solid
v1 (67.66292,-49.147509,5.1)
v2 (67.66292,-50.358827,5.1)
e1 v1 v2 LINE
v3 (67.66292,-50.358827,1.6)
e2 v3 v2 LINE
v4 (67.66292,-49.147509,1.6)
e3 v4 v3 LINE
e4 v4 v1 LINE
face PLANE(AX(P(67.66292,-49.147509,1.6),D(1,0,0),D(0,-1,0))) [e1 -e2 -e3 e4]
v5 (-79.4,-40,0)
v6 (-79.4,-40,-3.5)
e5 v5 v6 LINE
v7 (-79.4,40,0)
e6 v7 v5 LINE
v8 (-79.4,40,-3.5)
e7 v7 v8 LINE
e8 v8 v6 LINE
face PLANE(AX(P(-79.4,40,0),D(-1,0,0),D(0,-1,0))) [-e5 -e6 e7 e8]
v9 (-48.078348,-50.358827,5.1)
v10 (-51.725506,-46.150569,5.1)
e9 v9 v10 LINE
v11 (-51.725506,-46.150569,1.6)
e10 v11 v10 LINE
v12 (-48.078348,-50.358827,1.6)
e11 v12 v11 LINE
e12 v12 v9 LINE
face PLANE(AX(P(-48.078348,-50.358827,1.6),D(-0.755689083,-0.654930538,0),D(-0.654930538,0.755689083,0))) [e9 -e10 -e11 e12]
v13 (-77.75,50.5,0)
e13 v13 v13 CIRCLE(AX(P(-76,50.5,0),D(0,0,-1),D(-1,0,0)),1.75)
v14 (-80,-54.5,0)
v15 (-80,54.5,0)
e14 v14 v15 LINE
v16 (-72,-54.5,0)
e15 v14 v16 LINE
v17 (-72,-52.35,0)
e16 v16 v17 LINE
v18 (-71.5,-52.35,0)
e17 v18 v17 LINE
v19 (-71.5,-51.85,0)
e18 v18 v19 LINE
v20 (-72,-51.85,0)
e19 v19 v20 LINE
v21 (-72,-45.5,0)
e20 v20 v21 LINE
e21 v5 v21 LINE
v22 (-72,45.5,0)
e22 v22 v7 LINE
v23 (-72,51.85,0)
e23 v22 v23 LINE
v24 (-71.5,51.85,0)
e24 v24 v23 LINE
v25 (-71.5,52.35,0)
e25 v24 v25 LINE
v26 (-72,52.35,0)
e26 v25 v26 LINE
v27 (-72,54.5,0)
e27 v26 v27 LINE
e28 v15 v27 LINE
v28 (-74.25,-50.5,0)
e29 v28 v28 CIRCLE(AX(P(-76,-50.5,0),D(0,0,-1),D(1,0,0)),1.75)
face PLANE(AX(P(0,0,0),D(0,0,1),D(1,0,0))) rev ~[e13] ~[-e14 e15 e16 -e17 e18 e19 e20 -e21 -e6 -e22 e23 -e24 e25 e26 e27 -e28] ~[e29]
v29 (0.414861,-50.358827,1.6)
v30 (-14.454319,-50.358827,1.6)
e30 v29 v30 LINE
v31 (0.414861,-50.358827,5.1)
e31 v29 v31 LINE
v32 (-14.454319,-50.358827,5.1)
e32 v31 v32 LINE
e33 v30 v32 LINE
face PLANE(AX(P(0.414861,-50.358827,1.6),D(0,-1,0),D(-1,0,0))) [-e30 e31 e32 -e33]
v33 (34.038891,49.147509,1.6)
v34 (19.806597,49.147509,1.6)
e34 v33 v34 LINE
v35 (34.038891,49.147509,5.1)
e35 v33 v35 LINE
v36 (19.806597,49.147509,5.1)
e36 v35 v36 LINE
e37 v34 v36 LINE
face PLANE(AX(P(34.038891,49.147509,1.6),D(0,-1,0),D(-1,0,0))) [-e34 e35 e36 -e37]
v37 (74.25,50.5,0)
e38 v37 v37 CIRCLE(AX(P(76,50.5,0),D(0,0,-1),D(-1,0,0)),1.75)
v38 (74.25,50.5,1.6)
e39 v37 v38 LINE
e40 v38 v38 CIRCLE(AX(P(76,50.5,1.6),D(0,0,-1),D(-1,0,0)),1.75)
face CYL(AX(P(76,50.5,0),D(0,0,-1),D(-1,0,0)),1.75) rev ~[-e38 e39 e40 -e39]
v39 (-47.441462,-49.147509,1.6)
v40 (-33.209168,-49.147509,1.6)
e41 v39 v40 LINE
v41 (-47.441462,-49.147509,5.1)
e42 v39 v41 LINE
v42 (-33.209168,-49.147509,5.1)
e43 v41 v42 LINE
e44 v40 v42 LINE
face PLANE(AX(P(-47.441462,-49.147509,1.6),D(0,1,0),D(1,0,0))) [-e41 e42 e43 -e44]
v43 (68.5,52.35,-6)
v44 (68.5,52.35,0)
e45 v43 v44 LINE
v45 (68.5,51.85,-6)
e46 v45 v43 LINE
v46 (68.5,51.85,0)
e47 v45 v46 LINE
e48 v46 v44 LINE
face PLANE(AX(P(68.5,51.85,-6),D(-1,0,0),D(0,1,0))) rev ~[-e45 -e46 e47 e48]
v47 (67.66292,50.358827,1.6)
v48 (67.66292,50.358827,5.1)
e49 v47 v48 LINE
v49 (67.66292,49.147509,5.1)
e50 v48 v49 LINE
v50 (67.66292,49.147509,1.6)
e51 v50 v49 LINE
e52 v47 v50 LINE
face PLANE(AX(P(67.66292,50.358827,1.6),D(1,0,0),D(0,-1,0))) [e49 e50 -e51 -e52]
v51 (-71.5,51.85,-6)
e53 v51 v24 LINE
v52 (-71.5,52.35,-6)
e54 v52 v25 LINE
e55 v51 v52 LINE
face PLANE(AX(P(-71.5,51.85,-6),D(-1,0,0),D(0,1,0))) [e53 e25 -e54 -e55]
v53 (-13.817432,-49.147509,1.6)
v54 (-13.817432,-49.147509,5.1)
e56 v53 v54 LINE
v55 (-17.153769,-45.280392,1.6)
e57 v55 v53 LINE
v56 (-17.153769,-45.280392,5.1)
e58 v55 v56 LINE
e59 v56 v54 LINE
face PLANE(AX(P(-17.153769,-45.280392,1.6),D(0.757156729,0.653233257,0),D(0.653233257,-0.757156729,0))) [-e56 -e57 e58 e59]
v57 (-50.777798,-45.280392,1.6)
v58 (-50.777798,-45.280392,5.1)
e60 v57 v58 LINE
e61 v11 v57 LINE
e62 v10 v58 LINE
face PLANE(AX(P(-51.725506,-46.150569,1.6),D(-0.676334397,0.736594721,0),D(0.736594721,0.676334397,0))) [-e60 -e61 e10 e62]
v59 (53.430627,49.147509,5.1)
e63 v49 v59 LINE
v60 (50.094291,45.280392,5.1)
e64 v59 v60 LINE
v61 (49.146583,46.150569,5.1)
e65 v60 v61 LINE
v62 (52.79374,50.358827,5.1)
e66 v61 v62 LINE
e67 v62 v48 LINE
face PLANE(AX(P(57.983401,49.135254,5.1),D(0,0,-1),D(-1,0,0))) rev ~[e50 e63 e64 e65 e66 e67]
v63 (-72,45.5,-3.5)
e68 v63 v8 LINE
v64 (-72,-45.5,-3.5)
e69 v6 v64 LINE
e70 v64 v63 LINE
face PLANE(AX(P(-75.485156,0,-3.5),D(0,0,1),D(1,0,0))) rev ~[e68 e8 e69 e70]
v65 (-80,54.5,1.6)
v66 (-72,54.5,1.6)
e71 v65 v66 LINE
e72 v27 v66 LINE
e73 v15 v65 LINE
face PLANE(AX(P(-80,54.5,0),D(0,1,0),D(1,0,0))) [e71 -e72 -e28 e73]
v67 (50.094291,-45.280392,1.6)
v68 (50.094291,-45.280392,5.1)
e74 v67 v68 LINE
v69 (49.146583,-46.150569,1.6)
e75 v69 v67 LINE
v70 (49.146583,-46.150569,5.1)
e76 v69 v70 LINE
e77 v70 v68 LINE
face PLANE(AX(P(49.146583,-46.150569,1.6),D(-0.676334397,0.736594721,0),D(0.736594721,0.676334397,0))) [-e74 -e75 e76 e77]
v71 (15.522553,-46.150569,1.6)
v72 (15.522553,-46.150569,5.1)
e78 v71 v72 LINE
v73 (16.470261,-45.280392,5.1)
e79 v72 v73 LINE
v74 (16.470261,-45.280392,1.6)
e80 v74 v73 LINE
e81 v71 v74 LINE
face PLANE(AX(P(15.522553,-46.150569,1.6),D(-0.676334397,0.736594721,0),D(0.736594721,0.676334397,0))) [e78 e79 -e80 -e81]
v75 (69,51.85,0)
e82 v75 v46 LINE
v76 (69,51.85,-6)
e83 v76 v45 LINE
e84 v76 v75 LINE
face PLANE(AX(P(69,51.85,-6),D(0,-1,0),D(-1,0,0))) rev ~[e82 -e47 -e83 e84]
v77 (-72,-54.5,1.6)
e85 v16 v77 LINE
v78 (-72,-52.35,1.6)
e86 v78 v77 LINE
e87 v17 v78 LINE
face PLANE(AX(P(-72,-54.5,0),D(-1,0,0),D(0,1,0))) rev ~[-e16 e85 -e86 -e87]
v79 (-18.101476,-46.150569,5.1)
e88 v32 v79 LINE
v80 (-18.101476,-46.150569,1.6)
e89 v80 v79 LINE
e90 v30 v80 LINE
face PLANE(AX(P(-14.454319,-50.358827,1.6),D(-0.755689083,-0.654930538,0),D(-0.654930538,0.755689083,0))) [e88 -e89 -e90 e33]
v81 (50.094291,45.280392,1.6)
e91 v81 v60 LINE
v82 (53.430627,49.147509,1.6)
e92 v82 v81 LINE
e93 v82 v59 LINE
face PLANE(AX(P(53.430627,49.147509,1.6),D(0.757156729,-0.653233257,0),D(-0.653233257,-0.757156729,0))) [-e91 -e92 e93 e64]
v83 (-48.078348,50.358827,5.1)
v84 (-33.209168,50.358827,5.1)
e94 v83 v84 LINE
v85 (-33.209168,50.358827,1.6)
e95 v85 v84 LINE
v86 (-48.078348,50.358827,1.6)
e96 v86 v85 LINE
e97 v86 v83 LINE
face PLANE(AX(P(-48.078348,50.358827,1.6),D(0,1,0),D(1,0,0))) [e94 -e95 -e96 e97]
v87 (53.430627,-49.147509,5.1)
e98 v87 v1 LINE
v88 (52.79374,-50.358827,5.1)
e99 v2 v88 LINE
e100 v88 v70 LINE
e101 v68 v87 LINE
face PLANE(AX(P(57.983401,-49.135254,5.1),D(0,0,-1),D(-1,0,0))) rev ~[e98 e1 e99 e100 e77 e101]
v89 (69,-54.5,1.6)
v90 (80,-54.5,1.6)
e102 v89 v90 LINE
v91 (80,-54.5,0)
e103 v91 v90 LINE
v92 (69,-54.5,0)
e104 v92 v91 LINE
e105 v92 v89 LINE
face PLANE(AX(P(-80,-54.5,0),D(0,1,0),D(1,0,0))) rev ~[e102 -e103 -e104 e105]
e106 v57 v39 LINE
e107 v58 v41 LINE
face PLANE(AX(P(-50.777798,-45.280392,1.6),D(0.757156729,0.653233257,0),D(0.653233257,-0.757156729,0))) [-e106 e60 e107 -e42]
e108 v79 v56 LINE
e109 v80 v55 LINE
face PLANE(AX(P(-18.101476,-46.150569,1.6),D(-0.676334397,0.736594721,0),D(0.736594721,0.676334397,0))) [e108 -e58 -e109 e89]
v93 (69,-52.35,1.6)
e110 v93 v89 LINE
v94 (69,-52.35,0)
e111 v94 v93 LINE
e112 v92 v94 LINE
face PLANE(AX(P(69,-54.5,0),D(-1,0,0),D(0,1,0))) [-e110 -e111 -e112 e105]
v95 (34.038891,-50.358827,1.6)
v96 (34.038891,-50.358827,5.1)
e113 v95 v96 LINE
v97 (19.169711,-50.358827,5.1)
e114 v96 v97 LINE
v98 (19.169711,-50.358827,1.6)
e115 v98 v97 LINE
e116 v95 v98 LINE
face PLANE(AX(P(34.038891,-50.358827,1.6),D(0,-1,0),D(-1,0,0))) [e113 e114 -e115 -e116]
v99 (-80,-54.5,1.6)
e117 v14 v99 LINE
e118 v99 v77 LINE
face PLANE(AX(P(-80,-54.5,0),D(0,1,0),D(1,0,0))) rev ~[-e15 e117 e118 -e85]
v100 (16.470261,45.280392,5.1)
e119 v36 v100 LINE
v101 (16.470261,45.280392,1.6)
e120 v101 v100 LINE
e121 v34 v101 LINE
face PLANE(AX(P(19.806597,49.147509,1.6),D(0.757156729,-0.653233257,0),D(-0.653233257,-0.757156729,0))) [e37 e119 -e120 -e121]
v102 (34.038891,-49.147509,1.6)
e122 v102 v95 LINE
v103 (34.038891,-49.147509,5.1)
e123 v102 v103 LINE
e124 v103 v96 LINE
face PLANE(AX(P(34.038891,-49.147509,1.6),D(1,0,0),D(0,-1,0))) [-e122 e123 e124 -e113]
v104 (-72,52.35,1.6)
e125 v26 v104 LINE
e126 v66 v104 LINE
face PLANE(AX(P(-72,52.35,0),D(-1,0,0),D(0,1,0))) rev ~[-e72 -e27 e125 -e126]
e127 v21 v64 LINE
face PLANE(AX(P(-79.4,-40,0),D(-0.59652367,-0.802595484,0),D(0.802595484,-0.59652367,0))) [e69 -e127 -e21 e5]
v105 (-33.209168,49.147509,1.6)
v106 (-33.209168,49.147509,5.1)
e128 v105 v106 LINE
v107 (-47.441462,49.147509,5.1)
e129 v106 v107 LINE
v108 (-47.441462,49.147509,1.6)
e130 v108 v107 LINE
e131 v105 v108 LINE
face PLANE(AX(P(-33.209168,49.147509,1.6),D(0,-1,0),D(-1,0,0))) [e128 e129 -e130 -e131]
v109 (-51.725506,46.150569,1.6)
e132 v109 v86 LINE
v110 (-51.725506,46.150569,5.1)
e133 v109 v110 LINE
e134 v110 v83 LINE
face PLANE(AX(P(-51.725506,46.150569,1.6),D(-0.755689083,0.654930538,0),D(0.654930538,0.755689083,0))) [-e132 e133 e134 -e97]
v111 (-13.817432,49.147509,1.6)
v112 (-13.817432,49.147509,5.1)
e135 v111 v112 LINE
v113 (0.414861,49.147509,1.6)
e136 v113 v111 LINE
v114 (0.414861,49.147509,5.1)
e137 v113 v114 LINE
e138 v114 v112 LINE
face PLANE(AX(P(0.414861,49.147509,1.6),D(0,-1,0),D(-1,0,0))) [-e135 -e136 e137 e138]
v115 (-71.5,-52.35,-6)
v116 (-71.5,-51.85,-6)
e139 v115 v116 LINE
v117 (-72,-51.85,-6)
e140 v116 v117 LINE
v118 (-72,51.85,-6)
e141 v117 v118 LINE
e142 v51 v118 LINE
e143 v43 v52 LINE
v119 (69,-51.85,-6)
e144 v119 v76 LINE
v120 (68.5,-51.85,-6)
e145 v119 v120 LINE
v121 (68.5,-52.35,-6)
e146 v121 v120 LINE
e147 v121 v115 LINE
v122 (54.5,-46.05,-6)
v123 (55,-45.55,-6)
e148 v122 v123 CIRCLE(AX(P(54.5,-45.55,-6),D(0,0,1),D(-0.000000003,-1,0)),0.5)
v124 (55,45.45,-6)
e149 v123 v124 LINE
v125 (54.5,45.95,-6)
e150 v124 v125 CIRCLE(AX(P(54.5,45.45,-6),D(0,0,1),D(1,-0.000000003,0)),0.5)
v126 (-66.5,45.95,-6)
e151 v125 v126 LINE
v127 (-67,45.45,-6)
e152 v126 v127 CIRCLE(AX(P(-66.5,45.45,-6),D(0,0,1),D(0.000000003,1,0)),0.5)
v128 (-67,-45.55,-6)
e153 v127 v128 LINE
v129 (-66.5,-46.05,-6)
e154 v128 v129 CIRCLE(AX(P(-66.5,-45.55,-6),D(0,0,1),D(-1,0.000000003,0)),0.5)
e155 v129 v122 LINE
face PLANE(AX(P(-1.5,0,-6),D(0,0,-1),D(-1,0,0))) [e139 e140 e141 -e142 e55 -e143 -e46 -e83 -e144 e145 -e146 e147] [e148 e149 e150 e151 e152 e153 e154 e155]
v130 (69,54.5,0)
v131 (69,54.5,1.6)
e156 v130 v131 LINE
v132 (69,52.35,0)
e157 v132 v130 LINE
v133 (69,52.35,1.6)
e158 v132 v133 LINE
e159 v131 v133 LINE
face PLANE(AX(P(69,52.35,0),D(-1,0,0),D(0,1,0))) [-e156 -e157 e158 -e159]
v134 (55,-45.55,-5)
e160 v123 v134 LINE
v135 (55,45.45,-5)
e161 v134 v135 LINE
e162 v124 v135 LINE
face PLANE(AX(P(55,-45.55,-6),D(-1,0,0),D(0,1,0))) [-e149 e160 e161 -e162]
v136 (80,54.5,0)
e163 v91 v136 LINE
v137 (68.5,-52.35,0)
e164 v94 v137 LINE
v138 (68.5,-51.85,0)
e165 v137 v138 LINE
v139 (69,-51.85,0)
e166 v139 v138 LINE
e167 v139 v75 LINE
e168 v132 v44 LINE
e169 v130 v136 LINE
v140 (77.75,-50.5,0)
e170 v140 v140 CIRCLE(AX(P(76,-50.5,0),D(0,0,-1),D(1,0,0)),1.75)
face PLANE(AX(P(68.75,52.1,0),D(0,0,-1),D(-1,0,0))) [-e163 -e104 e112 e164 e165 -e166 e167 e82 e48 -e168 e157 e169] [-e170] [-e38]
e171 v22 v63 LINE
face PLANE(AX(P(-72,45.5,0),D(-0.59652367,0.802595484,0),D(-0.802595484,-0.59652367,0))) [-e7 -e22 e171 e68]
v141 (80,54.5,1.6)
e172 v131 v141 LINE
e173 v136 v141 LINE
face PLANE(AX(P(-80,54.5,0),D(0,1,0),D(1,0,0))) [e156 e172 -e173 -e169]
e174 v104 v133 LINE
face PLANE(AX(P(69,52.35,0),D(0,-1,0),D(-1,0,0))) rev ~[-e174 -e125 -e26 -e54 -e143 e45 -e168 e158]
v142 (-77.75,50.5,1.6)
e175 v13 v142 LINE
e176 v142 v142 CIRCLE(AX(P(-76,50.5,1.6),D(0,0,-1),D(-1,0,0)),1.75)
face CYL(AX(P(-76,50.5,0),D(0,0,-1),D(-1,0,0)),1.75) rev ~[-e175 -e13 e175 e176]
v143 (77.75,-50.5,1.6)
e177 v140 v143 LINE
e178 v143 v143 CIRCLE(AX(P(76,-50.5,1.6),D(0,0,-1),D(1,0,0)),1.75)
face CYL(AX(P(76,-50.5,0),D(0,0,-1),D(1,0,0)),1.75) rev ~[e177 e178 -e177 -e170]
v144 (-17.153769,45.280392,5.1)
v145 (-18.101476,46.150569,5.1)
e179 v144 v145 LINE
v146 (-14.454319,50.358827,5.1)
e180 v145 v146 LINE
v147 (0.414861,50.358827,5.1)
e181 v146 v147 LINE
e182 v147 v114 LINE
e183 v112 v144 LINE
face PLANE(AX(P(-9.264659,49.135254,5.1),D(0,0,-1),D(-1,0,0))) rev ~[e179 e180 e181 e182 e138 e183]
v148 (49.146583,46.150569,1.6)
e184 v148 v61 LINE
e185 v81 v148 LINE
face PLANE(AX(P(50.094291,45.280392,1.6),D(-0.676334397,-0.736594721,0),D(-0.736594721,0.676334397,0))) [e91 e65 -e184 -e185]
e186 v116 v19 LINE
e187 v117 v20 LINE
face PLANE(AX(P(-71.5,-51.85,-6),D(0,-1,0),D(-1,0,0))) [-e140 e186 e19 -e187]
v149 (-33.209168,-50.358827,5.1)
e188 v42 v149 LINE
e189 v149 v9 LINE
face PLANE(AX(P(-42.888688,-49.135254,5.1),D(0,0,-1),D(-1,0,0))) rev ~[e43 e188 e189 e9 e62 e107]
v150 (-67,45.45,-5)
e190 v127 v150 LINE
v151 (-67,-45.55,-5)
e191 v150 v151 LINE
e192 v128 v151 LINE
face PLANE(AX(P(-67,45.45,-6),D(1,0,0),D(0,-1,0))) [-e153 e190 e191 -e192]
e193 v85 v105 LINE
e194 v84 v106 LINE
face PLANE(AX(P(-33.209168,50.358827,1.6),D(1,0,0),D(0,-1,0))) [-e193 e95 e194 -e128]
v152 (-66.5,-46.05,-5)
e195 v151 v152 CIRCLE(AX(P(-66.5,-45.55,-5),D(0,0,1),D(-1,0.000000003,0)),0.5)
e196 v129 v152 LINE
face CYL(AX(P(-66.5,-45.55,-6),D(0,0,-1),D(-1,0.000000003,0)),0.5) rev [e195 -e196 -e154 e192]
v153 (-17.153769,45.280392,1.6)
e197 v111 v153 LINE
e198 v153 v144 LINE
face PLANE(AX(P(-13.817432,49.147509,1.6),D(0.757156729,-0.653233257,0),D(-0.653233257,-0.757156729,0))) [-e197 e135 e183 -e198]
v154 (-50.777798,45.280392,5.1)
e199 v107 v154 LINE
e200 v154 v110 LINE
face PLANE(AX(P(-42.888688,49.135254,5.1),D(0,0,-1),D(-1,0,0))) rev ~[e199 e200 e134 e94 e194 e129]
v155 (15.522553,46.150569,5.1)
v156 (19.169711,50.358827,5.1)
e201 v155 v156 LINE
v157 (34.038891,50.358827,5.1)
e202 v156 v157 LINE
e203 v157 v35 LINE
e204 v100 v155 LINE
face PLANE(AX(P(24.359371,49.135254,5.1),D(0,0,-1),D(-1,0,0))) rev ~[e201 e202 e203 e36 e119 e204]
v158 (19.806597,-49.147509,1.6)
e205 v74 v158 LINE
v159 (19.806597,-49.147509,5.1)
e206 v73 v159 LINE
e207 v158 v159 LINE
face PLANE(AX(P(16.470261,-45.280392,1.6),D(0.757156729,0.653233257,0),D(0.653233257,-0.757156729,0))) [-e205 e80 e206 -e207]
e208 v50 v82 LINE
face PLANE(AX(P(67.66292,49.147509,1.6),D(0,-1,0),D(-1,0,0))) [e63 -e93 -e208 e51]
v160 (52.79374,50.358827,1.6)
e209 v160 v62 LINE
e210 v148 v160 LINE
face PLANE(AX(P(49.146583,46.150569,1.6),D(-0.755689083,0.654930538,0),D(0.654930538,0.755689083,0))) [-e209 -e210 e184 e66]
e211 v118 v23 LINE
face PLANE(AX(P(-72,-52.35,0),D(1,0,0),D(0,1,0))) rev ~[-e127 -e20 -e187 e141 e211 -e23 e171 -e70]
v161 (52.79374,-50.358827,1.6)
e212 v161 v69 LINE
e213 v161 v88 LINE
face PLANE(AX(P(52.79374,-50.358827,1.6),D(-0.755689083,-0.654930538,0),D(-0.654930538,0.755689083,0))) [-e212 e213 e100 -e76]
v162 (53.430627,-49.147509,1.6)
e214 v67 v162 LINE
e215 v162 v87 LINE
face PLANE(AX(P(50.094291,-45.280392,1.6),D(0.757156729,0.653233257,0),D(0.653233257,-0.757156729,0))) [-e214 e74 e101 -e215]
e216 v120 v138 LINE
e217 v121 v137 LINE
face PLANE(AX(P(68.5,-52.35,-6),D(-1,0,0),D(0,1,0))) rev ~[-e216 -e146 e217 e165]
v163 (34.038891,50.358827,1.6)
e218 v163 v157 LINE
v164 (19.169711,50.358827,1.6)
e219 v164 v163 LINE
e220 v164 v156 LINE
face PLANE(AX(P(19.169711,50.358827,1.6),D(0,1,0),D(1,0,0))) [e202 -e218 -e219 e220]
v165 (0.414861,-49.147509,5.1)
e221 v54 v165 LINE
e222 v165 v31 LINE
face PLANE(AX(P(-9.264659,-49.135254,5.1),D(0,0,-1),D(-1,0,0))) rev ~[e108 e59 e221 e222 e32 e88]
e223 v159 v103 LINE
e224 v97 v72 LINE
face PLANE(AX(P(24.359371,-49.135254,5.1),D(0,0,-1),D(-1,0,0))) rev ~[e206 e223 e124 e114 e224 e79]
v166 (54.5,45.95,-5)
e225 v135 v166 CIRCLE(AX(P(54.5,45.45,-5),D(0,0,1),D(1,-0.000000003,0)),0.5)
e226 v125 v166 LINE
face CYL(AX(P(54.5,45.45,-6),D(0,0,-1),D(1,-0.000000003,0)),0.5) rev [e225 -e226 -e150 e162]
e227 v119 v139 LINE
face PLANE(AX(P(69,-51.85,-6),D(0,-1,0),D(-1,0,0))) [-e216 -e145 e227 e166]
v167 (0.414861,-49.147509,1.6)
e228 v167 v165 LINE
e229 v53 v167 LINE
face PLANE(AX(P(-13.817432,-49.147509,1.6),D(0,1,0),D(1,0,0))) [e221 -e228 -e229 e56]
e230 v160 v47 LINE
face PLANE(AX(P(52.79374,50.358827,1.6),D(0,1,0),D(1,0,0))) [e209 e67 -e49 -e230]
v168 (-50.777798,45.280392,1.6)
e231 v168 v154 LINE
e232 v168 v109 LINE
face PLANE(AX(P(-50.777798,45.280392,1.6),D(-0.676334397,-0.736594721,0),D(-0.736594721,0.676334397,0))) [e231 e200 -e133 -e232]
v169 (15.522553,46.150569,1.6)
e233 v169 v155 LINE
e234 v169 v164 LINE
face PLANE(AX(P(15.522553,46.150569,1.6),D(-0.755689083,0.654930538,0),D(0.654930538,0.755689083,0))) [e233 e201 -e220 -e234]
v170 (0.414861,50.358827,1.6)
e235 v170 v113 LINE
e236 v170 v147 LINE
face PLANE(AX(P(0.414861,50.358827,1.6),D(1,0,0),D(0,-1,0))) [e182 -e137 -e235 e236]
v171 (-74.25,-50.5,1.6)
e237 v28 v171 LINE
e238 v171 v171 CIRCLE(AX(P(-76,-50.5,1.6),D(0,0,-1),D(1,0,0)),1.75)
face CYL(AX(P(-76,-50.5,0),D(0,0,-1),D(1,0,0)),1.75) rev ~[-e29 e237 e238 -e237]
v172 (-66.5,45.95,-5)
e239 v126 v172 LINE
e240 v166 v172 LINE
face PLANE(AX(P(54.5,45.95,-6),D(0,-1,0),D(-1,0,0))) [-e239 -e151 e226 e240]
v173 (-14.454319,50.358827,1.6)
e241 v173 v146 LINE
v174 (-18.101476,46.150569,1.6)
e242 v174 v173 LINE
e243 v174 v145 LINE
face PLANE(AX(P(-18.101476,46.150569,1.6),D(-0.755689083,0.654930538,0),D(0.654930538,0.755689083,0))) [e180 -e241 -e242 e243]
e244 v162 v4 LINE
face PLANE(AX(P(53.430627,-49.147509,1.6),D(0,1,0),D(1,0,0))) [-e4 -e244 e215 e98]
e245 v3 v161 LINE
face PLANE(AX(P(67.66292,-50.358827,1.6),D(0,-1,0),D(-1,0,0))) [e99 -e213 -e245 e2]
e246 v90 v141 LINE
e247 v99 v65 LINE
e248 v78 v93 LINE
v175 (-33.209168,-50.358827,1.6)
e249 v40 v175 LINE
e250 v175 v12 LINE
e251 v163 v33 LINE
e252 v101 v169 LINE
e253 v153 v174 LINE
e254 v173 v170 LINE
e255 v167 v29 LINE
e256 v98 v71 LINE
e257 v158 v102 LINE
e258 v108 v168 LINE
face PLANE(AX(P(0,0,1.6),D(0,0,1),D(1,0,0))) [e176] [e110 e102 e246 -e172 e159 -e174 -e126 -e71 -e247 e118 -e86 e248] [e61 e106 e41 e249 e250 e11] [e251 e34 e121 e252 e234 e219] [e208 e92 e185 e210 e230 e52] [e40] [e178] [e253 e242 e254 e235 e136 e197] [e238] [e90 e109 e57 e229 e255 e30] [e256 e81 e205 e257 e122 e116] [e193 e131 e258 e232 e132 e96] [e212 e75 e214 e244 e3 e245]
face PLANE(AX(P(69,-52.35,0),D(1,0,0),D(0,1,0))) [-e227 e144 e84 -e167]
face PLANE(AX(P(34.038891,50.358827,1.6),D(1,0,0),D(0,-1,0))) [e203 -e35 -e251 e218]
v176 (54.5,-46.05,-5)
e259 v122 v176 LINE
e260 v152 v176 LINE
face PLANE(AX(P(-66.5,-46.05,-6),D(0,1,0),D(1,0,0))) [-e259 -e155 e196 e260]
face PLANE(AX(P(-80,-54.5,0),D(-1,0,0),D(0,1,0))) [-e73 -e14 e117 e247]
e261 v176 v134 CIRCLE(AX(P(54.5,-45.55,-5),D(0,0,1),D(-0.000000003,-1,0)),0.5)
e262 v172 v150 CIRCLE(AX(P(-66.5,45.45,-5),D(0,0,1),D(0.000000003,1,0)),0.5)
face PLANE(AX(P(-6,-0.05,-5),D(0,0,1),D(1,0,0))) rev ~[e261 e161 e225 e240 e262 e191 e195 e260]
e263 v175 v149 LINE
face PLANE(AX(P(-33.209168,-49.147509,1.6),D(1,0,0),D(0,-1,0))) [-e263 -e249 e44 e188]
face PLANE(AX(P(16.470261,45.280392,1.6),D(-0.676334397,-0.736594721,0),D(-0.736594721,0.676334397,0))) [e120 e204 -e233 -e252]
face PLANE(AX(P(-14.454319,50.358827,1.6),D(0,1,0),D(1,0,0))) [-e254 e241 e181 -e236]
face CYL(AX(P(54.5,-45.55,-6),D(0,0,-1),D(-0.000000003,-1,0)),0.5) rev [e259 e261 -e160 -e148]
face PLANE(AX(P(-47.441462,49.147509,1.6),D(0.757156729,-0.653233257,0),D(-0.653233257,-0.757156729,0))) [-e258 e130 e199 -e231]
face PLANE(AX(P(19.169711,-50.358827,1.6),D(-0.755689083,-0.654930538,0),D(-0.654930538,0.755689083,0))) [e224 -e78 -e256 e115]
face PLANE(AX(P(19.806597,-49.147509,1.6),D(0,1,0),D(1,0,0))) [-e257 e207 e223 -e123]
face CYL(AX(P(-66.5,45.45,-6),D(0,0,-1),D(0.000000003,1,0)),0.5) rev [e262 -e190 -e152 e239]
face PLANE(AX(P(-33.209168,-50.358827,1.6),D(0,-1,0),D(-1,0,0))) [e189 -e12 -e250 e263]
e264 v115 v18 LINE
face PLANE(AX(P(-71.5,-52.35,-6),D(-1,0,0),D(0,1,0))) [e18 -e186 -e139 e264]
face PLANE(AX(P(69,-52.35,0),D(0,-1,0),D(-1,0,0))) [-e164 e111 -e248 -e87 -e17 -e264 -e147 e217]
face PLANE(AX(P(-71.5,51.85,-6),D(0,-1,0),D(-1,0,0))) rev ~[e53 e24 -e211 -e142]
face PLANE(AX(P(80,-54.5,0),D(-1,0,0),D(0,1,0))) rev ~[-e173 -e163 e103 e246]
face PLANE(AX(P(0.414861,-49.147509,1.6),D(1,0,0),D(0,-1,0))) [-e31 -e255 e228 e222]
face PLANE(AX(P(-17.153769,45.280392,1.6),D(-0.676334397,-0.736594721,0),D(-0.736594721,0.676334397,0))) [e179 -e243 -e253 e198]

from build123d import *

# Parameters (mm, degrees)
SKETCH_1_W          = 160
SKETCH_1_H          = 109
EXTRUDE_1_DEPTH     = 1.6
SKETCH_2_R          = 1.75
CUT_EXTRUDE_1_DEPTH = 2
SKETCH_4_W          = 141
SKETCH_4_H          = 104.7
EXTRUDE_2_DEPTH     = 6
SKETCH_13_W         = 141
SKETCH_13_H         = 2.15
CUT_EXTRUDE_4_DEPTH = 10
CUT_EXTRUDE_2_DEPTH = 1
SKETCH_6_W          = 0.5
SKETCH_6_H          = 0.5
CUT_EXTRUDE_3_DEPTH = 6
EXTRUDE_5_DEPTH     = 3.5
EXTRUDE_6_DEPTH     = 3.5


with BuildPart() as part:
    # 草图1 → 拉伸1 (new body)
    with BuildSketch(Plane.XY):
        Rectangle(SKETCH_1_W, SKETCH_1_H)
    extrude(amount=EXTRUDE_1_DEPTH)

    # 草图2 → 切除-拉伸1 (cut)
    with BuildSketch(Plane(origin=(0, 0, 0), x_dir=(-1, 0, 0), z_dir=(0, 0, -1))):
        with Locations((-76, 50.5)):
            Circle(SKETCH_2_R)
        with Locations((76, 50.5)):
            Circle(SKETCH_2_R)
        with Locations(Location((76, -50.5, 0), (0, 0, 180))):
            Circle(SKETCH_2_R)
        with Locations(Location((-76, -50.5, 0), (0, 0, 180))):
            Circle(SKETCH_2_R)
    extrude(amount=-CUT_EXTRUDE_1_DEPTH, mode=Mode.SUBTRACT)

    # 草图4 → 拉伸2 (add)
    with BuildSketch(Plane(origin=(0, 0, 0), x_dir=(-1, 0, 0), z_dir=(0, 0, -1))):
        with Locations((1.5, 0)):
            Rectangle(SKETCH_4_W, SKETCH_4_H)
    extrude(amount=EXTRUDE_2_DEPTH)

    # 草图13 → 切除-拉伸4 (cut)
    with BuildSketch(Plane(origin=(0, 0, 0), x_dir=(-1, 0, 0), z_dir=(0, 0, -1))):
        with Locations((1.5, 53.425)):
            Rectangle(SKETCH_13_W, SKETCH_13_H)
        with Locations((1.5, -53.425)):
            Rectangle(SKETCH_13_W, SKETCH_13_H)
    extrude(amount=-CUT_EXTRUDE_4_DEPTH, mode=Mode.SUBTRACT)

    # 草图5 → 切除-拉伸2 (cut)
    with BuildSketch(Plane(origin=(0, 0, -6), x_dir=(-1, 0, 0), z_dir=(0, 0, -1))):
        with BuildLine():
            Line((-54.5, 45.95), (66.5, 45.95))
            ThreePointArc((66.5, 45.95), (66.853553391, 45.803553391), (67, 45.45))
            Line((67, 45.45), (67, -45.55))
            ThreePointArc((67, -45.55), (66.853553391, -45.903553391), (66.5, -46.05))
            Line((66.5, -46.05), (-54.5, -46.05))
            ThreePointArc((-54.5, -46.05), (-54.853553391, -45.903553391), (-55, -45.55))
            Line((-55, -45.55), (-55, 45.45))
            ThreePointArc((-55, 45.45), (-54.853553391, 45.803553391), (-54.5, 45.95))
        make_face()
    extrude(amount=-CUT_EXTRUDE_2_DEPTH, mode=Mode.SUBTRACT)

    # 草图6 → 切除-拉伸3 (cut)
    with BuildSketch(Plane(origin=(0, 0, -6), x_dir=(-1, 0, 0), z_dir=(0, 0, -1))):
        with Locations((71.75, 52.1)):
            Rectangle(SKETCH_6_W, SKETCH_6_H)
        with Locations((71.75, -52.1)):
            Rectangle(SKETCH_6_W, SKETCH_6_H)
        with Locations((-68.75, -52.1)):
            Rectangle(SKETCH_6_W, SKETCH_6_H)
        with Locations((-68.75, 52.1)):
            Rectangle(SKETCH_6_W, SKETCH_6_H)
    extrude(amount=-CUT_EXTRUDE_3_DEPTH, mode=Mode.SUBTRACT)

    # 草图10 → 拉伸5 (add)
    with BuildSketch(Plane.XY.offset(1.6)):
        Polygon((67.662920389, -50.358827106), (52.793740241, -50.358827106), (49.146582846, -46.150568574), (50.094290582, -45.280392178), (53.430626839, -49.147509203), (67.662920389, -49.147509203), align=None)
        Polygon((34.038890847, -50.358827106), (19.169710699, -50.358827106), (15.522553304, -46.150568574), (16.470261039, -45.280392178), (19.806597297, -49.147509203), (34.038890847, -49.147509203), align=None)
        Polygon((0.414861305, -50.358827106), (-14.454318843, -50.358827106), (-18.101476238, -46.150568574), (-17.153768503, -45.280392178), (-13.817432245, -49.147509203), (0.414861305, -49.147509203), align=None)
        Polygon((-33.209168237, -50.358827106), (-48.078348385, -50.358827106), (-51.72550578, -46.150568574), (-50.777798045, -45.280392178), (-47.441461787, -49.147509203), (-33.209168237, -49.147509203), align=None)
        Polygon((-50.777798045, 45.280392178), (-51.72550578, 46.150568574), (-48.078348385, 50.358827106), (-33.209168237, 50.358827106), (-33.209168237, 49.147509203), (-47.441461787, 49.147509203), align=None)
        Polygon((-17.153768503, 45.280392178), (-18.101476238, 46.150568574), (-14.454318843, 50.358827106), (0.414861305, 50.358827106), (0.414861305, 49.147509203), (-13.817432245, 49.147509203), align=None)
        Polygon((16.470261039, 45.280392178), (15.522553304, 46.150568574), (19.169710699, 50.358827106), (34.038890847, 50.358827106), (34.038890847, 49.147509203), (19.806597297, 49.147509203), align=None)
        Polygon((67.662920389, 50.358827106), (67.662920389, 49.147509203), (53.430626839, 49.147509203), (50.094290582, 45.280392178), (49.146582846, 46.150568574), (52.793740241, 50.358827106), align=None)
    extrude(amount=EXTRUDE_5_DEPTH)

    # 草图12 → 拉伸6 (add)
    with BuildSketch(Plane(origin=(0, 0, 0), x_dir=(-1, 0, 0), z_dir=(0, 0, -1))):
        Polygon((79.4, 40), (79.4, -40), (72, -45.5), (72, 45.5), align=None)
    extrude(amount=EXTRUDE_6_DEPTH)


solid = part.part
